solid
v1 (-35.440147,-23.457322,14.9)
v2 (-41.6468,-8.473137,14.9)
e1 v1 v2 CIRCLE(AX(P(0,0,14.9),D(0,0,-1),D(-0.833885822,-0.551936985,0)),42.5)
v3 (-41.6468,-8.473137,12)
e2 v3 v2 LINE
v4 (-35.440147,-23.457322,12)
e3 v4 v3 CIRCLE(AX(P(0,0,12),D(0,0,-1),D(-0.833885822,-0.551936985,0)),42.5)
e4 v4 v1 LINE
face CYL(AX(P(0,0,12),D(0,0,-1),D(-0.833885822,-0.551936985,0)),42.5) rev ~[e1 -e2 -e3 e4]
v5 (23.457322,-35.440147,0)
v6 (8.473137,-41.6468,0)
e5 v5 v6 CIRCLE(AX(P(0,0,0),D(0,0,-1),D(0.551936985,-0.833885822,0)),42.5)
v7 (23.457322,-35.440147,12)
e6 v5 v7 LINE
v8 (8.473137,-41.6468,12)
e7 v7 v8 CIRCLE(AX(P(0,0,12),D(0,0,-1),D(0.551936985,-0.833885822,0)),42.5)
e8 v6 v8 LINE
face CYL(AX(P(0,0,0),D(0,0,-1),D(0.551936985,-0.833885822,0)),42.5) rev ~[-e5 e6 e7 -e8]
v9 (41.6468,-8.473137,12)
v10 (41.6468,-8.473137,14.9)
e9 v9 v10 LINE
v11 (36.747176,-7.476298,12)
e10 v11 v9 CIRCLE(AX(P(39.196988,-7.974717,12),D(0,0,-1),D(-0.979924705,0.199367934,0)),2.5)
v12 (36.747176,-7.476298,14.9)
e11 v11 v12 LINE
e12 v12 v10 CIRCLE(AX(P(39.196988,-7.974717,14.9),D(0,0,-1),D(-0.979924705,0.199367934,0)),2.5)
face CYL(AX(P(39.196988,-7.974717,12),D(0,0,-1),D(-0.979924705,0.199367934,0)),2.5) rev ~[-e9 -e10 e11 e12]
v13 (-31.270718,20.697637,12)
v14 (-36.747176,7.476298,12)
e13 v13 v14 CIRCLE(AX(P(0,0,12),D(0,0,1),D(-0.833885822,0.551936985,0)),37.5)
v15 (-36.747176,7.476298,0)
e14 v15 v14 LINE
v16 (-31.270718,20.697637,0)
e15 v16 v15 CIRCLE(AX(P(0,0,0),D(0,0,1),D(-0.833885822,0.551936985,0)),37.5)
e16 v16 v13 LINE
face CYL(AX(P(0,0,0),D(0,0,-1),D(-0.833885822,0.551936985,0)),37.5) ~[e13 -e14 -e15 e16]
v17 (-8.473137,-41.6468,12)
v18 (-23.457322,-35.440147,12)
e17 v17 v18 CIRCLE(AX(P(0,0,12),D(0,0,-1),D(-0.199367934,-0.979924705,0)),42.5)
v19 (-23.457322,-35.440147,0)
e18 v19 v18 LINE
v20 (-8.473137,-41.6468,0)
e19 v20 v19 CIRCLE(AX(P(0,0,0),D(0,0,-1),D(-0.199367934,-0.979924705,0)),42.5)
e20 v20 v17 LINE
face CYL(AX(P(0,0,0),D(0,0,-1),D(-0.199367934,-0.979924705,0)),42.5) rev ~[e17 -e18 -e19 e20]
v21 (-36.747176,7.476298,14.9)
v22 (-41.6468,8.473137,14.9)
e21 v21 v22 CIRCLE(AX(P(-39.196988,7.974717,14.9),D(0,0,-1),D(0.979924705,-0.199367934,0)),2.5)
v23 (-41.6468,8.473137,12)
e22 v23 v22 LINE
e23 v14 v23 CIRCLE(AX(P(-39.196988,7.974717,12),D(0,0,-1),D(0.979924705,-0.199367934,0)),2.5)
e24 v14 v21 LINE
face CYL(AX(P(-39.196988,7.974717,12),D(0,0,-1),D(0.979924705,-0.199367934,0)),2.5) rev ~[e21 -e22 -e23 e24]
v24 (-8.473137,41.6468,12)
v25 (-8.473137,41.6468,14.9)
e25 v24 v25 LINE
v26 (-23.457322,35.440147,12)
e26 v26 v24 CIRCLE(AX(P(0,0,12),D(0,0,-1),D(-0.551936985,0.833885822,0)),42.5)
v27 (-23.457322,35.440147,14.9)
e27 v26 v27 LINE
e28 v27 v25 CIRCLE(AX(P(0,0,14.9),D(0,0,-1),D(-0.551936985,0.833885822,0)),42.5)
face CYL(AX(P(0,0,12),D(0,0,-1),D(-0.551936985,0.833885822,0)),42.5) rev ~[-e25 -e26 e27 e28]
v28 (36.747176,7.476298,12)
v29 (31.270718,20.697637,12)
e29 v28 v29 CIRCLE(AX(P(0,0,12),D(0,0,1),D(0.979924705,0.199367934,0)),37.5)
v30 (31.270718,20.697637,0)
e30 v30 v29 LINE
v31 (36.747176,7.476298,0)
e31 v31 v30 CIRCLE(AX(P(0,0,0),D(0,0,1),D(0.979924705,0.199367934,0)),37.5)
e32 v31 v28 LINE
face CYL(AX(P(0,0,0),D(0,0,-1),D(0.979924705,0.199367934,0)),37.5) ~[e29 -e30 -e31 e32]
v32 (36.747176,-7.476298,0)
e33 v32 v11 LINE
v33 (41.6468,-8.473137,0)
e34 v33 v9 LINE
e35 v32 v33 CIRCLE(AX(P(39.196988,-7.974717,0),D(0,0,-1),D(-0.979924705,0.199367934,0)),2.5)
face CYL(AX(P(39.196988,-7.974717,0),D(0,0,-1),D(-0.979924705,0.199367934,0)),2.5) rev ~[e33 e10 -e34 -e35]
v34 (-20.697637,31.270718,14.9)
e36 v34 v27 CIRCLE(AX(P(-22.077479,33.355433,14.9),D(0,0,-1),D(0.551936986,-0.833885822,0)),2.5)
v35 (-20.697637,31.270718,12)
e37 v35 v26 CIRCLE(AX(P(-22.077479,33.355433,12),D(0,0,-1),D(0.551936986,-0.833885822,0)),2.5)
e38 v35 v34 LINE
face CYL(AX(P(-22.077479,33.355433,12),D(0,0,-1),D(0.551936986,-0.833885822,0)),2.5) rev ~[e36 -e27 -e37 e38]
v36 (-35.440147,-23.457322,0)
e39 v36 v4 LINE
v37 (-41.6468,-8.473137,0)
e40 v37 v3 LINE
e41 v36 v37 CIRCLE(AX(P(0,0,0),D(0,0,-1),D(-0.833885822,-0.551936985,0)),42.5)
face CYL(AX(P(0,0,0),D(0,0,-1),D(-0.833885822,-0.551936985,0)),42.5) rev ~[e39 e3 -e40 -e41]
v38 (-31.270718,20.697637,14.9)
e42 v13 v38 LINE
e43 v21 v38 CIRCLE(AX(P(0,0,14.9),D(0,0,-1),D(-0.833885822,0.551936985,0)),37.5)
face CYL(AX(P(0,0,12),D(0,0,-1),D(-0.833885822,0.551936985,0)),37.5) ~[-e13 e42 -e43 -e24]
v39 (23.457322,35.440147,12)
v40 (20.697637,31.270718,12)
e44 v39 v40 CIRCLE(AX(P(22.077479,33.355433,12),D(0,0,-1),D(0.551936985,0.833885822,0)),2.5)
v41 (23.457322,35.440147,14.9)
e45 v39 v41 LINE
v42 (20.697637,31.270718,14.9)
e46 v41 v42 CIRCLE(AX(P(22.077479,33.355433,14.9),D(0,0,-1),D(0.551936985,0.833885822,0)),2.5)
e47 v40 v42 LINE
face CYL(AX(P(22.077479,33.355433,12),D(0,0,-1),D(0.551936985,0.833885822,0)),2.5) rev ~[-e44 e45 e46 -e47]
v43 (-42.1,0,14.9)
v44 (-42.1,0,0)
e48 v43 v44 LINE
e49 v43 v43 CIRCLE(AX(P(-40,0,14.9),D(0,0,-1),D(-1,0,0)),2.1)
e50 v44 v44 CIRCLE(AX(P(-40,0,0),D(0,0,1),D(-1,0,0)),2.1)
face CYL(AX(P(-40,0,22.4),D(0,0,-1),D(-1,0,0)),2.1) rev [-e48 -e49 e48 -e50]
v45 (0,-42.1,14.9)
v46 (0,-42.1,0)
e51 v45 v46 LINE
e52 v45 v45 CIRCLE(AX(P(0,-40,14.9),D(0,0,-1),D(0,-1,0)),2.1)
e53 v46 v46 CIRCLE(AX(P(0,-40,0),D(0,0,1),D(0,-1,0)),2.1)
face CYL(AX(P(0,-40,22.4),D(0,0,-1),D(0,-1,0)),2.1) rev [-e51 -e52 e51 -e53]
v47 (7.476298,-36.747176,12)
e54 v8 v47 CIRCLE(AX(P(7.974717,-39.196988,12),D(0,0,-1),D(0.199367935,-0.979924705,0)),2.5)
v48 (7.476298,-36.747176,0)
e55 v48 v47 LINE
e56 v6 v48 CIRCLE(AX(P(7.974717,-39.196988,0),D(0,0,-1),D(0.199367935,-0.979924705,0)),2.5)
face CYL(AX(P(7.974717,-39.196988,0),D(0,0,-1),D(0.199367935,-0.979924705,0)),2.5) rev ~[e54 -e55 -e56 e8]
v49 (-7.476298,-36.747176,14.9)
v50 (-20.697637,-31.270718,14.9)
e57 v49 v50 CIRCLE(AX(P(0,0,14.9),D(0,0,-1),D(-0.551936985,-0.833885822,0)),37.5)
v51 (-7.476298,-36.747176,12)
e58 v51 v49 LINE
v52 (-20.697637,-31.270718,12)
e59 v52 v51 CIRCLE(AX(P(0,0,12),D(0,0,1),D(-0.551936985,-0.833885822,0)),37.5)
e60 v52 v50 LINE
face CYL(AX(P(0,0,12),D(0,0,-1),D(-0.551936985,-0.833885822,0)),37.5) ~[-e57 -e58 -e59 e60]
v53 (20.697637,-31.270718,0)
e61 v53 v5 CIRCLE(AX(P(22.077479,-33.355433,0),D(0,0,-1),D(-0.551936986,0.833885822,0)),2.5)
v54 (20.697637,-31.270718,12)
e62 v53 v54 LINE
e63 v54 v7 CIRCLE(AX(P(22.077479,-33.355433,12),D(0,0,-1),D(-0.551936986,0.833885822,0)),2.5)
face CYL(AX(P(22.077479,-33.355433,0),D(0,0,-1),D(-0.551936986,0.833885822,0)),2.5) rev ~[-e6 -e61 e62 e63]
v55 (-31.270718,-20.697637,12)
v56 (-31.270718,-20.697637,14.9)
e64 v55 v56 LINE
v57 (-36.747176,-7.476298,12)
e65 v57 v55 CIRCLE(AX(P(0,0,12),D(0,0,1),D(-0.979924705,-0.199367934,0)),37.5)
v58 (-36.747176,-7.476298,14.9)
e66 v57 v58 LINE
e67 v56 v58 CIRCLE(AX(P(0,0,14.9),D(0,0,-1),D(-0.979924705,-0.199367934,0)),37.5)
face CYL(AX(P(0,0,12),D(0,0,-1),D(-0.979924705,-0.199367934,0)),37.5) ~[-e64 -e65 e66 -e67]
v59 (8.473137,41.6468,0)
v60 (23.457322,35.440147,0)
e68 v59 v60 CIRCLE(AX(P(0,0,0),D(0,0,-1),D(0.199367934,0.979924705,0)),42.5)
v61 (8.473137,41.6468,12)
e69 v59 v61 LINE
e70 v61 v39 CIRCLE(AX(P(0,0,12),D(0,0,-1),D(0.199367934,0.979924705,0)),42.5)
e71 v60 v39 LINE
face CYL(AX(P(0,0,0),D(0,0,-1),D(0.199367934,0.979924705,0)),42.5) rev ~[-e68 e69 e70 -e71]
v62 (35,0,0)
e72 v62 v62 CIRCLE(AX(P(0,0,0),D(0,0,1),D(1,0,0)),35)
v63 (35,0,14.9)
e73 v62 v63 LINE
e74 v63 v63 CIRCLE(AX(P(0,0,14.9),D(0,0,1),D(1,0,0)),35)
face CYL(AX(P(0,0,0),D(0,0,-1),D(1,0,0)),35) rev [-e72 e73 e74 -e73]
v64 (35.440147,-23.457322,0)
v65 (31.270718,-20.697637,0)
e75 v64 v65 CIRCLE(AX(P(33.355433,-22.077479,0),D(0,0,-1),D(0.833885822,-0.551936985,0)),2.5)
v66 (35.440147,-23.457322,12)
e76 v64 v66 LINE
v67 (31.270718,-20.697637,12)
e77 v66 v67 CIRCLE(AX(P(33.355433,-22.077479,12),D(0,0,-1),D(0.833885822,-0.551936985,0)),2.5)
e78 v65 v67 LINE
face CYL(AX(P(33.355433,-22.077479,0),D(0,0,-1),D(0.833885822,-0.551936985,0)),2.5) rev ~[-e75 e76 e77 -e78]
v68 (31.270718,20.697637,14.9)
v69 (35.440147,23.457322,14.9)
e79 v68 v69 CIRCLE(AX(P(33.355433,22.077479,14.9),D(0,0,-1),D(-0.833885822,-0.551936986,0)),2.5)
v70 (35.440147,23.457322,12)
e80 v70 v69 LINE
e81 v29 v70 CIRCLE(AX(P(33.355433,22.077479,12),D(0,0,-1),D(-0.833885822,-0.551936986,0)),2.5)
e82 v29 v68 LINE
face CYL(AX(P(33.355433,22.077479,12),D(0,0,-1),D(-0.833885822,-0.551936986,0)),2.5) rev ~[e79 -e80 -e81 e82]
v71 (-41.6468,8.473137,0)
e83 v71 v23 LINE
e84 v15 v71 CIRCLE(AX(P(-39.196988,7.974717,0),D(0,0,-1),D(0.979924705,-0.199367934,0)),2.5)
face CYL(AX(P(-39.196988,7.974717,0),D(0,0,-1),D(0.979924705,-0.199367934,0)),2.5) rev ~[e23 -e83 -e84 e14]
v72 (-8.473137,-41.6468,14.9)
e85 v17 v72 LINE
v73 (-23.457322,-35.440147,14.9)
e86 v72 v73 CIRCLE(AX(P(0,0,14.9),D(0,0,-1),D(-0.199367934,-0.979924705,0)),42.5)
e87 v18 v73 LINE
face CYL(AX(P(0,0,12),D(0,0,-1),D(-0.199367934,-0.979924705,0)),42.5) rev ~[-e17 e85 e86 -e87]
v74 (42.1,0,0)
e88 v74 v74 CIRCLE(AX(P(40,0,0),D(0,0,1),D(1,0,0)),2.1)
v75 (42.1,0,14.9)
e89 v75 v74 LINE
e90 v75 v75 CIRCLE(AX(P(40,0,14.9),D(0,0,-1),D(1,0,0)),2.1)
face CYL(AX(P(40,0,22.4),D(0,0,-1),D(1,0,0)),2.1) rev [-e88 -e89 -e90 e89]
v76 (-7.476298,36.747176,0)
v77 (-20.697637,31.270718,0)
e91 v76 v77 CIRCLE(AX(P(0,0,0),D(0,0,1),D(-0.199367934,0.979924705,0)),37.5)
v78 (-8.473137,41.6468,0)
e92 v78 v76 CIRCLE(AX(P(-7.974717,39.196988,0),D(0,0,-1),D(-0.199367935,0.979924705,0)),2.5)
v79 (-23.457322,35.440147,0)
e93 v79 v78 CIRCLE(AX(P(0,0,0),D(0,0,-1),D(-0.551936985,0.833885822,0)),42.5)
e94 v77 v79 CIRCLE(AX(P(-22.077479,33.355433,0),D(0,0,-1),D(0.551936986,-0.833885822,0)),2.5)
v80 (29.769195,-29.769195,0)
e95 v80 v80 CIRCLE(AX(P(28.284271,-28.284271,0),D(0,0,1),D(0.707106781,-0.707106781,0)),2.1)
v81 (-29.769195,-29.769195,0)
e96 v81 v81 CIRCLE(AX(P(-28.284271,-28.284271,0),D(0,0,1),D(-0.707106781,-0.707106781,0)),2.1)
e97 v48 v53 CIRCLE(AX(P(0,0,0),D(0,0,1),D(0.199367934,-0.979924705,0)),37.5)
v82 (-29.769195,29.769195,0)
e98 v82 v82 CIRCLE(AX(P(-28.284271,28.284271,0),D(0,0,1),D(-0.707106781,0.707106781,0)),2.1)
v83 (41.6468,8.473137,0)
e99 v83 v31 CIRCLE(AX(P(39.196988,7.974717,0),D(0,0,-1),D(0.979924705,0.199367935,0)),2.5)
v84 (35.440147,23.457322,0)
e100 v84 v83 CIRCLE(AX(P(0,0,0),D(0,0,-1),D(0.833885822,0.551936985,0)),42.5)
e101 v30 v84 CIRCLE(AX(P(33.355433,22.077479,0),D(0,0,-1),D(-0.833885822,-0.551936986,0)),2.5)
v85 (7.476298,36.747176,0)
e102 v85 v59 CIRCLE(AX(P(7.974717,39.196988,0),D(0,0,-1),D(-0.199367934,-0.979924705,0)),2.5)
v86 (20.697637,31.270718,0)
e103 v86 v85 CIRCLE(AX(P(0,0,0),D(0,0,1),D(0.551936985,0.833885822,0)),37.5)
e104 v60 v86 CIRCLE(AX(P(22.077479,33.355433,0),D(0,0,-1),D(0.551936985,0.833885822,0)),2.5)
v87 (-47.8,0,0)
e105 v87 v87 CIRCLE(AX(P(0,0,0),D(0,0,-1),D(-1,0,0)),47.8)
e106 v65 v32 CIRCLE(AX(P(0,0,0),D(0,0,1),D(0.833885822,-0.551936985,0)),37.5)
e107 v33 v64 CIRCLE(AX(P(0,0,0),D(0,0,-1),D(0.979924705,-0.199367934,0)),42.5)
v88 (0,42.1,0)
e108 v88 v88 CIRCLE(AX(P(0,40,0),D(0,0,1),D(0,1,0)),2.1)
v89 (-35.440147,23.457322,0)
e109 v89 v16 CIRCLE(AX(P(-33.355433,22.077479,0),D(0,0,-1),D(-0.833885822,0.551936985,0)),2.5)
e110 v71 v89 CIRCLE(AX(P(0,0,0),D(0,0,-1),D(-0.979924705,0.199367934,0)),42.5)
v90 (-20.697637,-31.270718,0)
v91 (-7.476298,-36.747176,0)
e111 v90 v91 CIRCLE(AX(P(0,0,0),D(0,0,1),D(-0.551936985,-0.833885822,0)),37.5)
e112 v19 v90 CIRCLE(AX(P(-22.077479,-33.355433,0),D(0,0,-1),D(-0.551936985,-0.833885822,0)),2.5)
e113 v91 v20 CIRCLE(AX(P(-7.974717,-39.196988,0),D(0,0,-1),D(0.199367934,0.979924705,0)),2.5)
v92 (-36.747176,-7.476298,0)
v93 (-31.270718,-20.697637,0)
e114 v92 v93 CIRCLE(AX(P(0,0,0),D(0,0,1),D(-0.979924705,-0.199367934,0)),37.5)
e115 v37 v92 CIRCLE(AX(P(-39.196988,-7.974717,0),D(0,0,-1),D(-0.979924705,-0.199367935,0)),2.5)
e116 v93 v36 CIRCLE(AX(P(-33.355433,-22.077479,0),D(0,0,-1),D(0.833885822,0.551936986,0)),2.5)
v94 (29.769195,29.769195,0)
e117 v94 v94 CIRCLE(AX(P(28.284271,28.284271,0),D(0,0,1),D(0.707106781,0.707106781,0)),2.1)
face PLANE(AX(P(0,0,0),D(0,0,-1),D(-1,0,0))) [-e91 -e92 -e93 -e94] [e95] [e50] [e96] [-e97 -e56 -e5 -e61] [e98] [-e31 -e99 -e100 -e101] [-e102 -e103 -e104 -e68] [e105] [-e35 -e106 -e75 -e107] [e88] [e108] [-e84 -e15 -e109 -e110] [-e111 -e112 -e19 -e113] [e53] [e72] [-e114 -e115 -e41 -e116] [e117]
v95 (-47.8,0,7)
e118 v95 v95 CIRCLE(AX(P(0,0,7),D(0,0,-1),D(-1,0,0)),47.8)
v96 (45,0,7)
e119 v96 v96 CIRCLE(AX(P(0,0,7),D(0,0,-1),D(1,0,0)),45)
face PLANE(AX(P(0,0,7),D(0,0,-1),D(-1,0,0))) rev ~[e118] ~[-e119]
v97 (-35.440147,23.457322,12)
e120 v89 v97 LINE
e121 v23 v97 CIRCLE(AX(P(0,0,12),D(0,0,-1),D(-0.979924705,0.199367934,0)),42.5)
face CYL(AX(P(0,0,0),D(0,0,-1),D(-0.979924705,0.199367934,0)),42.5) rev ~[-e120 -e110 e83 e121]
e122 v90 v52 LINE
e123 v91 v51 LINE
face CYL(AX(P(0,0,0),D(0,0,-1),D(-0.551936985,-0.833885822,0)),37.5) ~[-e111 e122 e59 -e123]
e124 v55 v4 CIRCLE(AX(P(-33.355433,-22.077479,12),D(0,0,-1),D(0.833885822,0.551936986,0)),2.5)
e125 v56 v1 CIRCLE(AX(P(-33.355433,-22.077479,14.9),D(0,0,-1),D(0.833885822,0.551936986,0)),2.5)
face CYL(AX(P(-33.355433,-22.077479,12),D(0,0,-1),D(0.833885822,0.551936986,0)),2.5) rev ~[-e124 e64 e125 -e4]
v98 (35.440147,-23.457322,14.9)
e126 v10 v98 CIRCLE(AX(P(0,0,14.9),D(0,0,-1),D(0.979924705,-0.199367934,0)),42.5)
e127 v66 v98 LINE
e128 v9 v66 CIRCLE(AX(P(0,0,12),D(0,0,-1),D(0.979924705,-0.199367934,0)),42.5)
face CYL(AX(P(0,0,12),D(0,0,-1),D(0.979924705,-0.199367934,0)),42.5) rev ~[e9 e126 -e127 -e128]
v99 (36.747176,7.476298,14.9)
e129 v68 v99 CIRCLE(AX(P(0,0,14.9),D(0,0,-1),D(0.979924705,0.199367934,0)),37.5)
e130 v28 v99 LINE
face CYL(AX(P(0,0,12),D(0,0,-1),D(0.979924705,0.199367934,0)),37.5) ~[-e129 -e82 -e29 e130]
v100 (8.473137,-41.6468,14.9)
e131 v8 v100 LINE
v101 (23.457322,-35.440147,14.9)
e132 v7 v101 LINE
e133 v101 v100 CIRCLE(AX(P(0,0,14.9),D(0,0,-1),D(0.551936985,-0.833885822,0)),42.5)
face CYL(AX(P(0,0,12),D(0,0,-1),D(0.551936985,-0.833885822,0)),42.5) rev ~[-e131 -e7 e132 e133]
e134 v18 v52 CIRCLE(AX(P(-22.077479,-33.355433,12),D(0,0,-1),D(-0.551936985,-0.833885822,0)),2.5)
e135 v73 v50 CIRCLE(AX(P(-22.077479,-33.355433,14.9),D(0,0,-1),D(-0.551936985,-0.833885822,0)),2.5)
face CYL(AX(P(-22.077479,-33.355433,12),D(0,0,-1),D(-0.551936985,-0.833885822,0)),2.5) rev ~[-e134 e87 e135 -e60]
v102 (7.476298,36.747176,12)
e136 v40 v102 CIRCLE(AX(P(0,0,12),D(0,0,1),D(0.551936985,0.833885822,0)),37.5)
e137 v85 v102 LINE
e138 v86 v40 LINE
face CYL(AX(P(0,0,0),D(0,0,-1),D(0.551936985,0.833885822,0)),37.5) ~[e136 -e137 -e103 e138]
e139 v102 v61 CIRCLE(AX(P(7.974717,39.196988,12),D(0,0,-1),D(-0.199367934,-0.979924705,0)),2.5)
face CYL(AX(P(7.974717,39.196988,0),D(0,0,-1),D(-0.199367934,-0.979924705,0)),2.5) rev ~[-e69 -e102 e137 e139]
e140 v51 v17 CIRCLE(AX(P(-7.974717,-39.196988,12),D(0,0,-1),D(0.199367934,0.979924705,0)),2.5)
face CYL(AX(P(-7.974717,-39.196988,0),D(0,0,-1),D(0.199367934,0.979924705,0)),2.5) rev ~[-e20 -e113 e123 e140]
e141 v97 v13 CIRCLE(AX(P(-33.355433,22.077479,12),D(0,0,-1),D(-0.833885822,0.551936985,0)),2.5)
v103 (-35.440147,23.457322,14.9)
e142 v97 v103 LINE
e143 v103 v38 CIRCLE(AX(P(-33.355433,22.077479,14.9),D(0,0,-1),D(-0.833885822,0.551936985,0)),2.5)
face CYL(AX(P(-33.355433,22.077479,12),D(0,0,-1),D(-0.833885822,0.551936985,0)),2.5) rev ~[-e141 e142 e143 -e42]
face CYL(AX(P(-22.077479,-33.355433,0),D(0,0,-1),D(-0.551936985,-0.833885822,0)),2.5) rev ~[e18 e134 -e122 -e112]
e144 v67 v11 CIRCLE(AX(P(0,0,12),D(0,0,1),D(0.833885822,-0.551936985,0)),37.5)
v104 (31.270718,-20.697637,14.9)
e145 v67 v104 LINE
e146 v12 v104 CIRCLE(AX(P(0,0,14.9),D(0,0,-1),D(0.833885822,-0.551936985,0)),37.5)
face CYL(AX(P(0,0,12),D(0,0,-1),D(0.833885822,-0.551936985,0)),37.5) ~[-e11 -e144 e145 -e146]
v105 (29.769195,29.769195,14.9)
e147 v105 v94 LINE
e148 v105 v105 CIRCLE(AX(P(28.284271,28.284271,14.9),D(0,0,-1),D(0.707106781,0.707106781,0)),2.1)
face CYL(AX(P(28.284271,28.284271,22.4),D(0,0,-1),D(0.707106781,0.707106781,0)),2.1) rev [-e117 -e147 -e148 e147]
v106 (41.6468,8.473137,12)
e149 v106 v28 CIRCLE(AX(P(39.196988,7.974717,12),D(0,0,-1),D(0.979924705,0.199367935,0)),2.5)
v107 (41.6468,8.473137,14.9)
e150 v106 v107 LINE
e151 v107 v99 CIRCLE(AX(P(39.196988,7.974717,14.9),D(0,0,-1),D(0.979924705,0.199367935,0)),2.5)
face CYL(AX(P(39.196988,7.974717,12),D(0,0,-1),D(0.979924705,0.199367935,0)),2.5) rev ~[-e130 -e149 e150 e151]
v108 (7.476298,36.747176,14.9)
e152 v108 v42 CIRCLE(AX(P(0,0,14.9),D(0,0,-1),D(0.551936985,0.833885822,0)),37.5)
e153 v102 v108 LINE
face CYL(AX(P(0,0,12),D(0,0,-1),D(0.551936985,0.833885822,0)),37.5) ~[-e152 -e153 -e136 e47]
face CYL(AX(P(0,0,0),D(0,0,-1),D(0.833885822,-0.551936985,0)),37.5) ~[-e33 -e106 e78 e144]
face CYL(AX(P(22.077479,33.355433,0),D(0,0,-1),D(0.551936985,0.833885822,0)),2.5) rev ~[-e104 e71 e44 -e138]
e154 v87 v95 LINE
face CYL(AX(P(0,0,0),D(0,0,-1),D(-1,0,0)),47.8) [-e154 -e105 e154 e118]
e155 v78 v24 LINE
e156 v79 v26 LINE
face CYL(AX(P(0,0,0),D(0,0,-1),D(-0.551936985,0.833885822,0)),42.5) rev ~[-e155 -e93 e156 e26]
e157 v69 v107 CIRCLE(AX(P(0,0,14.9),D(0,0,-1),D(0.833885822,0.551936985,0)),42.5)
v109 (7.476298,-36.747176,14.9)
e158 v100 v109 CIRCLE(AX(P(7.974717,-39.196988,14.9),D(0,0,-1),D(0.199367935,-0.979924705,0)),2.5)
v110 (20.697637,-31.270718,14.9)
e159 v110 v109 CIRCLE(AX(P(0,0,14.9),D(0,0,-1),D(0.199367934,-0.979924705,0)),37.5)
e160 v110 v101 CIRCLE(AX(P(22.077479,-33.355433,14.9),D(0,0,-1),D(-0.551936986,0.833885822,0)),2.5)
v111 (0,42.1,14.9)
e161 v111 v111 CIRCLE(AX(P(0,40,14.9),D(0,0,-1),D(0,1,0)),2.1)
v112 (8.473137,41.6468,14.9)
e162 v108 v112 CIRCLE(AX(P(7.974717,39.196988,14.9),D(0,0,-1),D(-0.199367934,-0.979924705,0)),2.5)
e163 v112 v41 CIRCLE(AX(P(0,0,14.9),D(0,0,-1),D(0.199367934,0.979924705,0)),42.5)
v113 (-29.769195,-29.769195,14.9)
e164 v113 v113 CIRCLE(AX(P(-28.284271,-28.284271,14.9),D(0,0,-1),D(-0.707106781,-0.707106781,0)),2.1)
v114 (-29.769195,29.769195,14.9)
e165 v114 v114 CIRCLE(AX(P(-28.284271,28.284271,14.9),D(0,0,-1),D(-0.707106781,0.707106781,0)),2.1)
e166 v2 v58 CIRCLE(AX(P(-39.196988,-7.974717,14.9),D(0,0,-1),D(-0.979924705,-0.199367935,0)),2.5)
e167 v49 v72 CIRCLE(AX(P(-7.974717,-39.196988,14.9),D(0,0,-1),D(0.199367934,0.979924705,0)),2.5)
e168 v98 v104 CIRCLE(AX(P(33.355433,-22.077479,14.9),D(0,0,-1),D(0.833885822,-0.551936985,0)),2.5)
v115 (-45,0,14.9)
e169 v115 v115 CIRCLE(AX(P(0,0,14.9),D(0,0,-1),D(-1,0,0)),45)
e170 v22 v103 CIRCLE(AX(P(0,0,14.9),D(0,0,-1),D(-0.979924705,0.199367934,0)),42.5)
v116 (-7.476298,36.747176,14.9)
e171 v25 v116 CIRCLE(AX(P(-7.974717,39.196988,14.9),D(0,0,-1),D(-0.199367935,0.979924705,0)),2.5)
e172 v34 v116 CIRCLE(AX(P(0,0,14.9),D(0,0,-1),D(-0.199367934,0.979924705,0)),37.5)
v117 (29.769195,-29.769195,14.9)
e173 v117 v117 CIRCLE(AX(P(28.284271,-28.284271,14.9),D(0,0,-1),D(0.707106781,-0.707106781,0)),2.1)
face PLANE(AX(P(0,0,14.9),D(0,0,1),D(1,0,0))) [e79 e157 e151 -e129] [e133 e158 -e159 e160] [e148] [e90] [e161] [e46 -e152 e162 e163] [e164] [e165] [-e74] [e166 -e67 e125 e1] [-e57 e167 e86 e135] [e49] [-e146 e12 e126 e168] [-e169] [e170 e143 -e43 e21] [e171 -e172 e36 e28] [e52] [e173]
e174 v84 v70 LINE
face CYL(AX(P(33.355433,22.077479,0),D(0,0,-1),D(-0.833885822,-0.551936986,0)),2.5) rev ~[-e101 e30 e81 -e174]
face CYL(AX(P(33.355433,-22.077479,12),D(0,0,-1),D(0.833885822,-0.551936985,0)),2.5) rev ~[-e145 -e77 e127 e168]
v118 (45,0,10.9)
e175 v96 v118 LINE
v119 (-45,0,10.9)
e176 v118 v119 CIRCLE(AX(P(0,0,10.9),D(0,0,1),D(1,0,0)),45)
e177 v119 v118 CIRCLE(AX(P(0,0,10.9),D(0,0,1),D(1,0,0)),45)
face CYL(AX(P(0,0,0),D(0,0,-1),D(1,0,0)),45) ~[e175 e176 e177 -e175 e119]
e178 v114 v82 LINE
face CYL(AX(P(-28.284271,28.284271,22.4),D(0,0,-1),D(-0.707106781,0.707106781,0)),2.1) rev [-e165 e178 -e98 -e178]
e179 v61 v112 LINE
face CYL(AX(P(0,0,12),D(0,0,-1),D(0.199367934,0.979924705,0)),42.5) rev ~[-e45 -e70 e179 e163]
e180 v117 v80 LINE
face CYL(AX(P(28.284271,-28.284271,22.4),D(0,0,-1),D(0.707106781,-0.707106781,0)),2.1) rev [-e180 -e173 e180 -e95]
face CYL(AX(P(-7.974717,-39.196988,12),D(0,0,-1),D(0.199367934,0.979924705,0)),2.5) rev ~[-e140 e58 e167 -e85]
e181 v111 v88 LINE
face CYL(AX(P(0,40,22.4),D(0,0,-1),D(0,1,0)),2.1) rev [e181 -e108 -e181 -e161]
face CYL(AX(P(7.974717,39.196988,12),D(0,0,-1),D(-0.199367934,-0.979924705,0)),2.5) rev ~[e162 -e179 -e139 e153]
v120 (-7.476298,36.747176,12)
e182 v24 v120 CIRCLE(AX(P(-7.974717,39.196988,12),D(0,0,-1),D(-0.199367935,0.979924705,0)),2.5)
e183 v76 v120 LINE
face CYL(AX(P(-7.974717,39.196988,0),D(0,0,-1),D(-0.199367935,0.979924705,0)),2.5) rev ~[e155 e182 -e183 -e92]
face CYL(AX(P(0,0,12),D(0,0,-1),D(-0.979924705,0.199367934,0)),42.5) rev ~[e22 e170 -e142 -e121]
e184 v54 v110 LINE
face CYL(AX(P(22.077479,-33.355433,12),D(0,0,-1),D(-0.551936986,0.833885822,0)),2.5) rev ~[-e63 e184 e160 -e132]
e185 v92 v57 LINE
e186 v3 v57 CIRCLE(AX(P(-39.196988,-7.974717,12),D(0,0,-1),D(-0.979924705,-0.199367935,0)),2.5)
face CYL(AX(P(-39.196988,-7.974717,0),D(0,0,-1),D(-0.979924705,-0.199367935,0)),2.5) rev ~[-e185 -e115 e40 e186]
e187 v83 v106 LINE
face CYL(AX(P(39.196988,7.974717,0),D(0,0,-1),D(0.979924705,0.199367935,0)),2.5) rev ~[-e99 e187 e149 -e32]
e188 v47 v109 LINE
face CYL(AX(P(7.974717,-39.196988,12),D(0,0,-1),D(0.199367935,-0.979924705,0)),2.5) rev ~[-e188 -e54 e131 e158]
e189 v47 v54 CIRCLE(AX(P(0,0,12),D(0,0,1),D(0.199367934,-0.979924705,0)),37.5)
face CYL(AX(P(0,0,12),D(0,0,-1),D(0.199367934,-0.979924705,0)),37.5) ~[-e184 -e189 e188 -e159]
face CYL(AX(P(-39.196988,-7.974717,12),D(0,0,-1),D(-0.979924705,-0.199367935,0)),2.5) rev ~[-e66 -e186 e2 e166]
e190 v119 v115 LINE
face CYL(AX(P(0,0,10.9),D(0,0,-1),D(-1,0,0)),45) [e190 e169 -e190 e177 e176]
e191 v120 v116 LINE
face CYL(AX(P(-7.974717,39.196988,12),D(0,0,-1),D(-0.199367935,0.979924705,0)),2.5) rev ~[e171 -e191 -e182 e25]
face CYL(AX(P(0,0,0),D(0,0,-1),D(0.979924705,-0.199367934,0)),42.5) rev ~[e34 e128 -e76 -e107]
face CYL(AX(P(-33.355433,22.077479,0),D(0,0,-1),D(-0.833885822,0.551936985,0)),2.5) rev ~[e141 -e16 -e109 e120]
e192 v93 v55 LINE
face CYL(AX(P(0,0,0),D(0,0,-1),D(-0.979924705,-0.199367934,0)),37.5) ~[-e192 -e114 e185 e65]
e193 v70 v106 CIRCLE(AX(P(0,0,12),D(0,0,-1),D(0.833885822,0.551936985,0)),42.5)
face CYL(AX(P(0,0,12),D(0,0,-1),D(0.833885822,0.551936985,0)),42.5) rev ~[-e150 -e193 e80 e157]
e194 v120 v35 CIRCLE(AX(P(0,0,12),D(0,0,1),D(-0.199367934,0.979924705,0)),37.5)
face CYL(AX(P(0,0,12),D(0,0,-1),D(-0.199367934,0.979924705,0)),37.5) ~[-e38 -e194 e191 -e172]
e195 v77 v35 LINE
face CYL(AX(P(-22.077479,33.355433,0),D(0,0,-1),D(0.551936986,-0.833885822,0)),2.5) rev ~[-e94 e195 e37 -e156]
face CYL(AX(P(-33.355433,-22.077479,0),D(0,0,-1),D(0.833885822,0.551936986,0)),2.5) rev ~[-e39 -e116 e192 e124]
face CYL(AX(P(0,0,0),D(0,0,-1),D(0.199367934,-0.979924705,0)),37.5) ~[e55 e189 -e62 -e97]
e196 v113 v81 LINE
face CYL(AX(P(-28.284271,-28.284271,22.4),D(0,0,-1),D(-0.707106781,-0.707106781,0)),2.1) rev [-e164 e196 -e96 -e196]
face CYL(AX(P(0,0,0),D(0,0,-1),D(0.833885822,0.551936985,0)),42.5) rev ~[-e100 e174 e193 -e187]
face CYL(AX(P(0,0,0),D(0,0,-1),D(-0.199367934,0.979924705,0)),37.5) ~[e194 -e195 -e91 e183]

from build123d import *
from build123d.topology import SkipClean

# Parameters (mm, degrees)
SKETCH_1_R               = 45
SKETCH_1_R_2             = 1
SKETCH_1_R_3             = 35
EXTRUDE_2_DEPTH          = 14.9
EXTRUDE_START            = -4
SKETCH_3_R               = 47.8
SKETCH_3_R_2             = 45
EXTRUDE_3_DEPTH          = 4
PATTERN_CIRCULAR_1_COUNT = 8
CUT_EXTRUDE_2_DEPTH      = 12
SKETCH_14_R              = 47.8
SKETCH_14_R_2            = 45
CUT_EXTRUDE_3_DEPTH      = 10
SKETCH_15_R              = 47.8
SKETCH_15_R_2            = 45
EXTRUDE_4_DEPTH          = 7
CUT_EXTRUDE_4_DEPTH      = 10


with BuildPart() as part:
    # 草图1 → 凸台-拉伸2 (new body)
    with BuildSketch(Plane.XY):
        Circle(SKETCH_1_R)
        with Locations((0, 40)):
            Circle(SKETCH_1_R_2, mode=Mode.SUBTRACT)
        with Locations((28.284271247, 28.284271247)):
            Circle(SKETCH_1_R_2, mode=Mode.SUBTRACT)
        with Locations((40, 0)):
            Circle(SKETCH_1_R_2, mode=Mode.SUBTRACT)
        with Locations((28.284271247, -28.284271247)):
            Circle(SKETCH_1_R_2, mode=Mode.SUBTRACT)
        with Locations((0, -40)):
            Circle(SKETCH_1_R_2, mode=Mode.SUBTRACT)
        with Locations((-28.284271247, -28.284271247)):
            Circle(SKETCH_1_R_2, mode=Mode.SUBTRACT)
        Circle(SKETCH_1_R_3, mode=Mode.SUBTRACT)
        with Locations((-40, 0)):
            Circle(SKETCH_1_R_2, mode=Mode.SUBTRACT)
        with Locations((-28.284271247, 28.284271247)):
            Circle(SKETCH_1_R_2, mode=Mode.SUBTRACT)
    extrude(amount=EXTRUDE_2_DEPTH)

    # 草图3 → 凸台-拉伸3 (add)
    with BuildSketch(Plane.XY.offset(14.9).offset(EXTRUDE_START)):
        Circle(SKETCH_3_R)
        Circle(SKETCH_3_R_2, mode=Mode.SUBTRACT)
    extrude(amount=EXTRUDE_3_DEPTH)

    # 草图12 → M5 螺纹孔1 (revolve, cut)
    with BuildSketch(Plane(origin=(0, 40, 0), x_dir=(0, 1, 0), z_dir=(1, 0, 0))):
        Polygon((0, 0), (0, 23.6618073), (2.1, 22.4), (2.1, 0), align=None)
    hole_wizard_m5_1 = revolve(axis=Axis((0, 40, -6.35), (0, 0, 1)), mode=Mode.SUBTRACT)

    # 阵列(圆周)1: M5 螺纹孔1 ×8 about axis
    pattern_circular_1_axis = Axis((0, 0, 0), (0, 0, 1))
    for i in range(1, PATTERN_CIRCULAR_1_COUNT):
        add(hole_wizard_m5_1.rotate(pattern_circular_1_axis, i * 360 / PATTERN_CIRCULAR_1_COUNT), mode=Mode.SUBTRACT)

    # 草图13 → 切除-拉伸2 (cut)
    with BuildSketch(Plane(origin=(0, 0, 0), x_dir=(-1, 0, 0), z_dir=(0, 0, -1))):
        with BuildLine():
            ThreePointArc((-8.473137213, 41.646799946), (-16.264045876, 39.264880132), (-23.457321876, 35.440147438))
            ThreePointArc((-23.457321876, 35.440147438), (-24.162193968, 31.975590419), (-20.697636949, 31.270718328))
            ThreePointArc((-20.697636949, 31.270718328), (-14.350628714, 34.645482469), (-7.476297541, 36.747176423))
            ThreePointArc((-7.476297541, 36.747176423), (-5.524905615, 39.695408021), (-8.473137213, 41.646799946))
        make_face()
        with BuildLine():
            ThreePointArc((23.457321876, 35.440147438), (16.264045876, 39.264880132), (8.473137213, 41.646799946))
            ThreePointArc((8.473137213, 41.646799946), (5.524905615, 39.695408021), (7.476297541, 36.747176423))
            ThreePointArc((7.476297541, 36.747176423), (14.350628714, 34.645482469), (20.697636949, 31.270718328))
            ThreePointArc((20.697636949, 31.270718328), (24.162193968, 31.975590419), (23.457321876, 35.440147438))
        make_face()
        with BuildLine():
            ThreePointArc((41.646799946, 8.473137213), (39.264880132, 16.264045876), (35.440147438, 23.457321876))
            ThreePointArc((35.440147438, 23.457321876), (31.975590419, 24.162193968), (31.270718328, 20.697636949))
            ThreePointArc((31.270718328, 20.697636949), (34.645482469, 14.350628714), (36.747176423, 7.476297541))
            ThreePointArc((36.747176423, 7.476297541), (39.695408021, 5.524905615), (41.646799946, 8.473137213))
        make_face()
        with BuildLine():
            ThreePointArc((35.440147438, -23.457321876), (39.264880132, -16.264045876), (41.646799946, -8.473137213))
            ThreePointArc((41.646799946, -8.473137213), (39.695408021, -5.524905615), (36.747176423, -7.476297541))
            ThreePointArc((36.747176423, -7.476297541), (34.645482469, -14.350628714), (31.270718328, -20.697636949))
            ThreePointArc((31.270718328, -20.697636949), (31.975590419, -24.162193968), (35.440147438, -23.457321876))
        make_face()
        with BuildLine():
            ThreePointArc((8.473137213, -41.646799946), (16.264045876, -39.264880132), (23.457321876, -35.440147438))
            ThreePointArc((23.457321876, -35.440147438), (24.162193968, -31.975590419), (20.697636949, -31.270718328))
            ThreePointArc((20.697636949, -31.270718328), (14.350628714, -34.645482469), (7.476297541, -36.747176423))
            ThreePointArc((7.476297541, -36.747176423), (5.524905615, -39.695408021), (8.473137213, -41.646799946))
        make_face()
        with BuildLine():
            ThreePointArc((-23.457321876, -35.440147438), (-16.264045876, -39.264880132), (-8.473137213, -41.646799946))
            ThreePointArc((-8.473137213, -41.646799946), (-5.524905615, -39.695408021), (-7.476297541, -36.747176423))
            ThreePointArc((-7.476297541, -36.747176423), (-14.350628714, -34.645482469), (-20.697636949, -31.270718328))
            ThreePointArc((-20.697636949, -31.270718328), (-24.162193968, -31.975590419), (-23.457321876, -35.440147438))
        make_face()
        with BuildLine():
            ThreePointArc((-41.646799946, -8.473137213), (-39.264880132, -16.264045876), (-35.440147438, -23.457321876))
            ThreePointArc((-35.440147438, -23.457321876), (-31.975590419, -24.162193968), (-31.270718328, -20.697636949))
            ThreePointArc((-31.270718328, -20.697636949), (-34.645482469, -14.350628714), (-36.747176423, -7.476297541))
            ThreePointArc((-36.747176423, -7.476297541), (-39.695408021, -5.524905615), (-41.646799946, -8.473137213))
        make_face()
        with BuildLine():
            ThreePointArc((-35.440147438, 23.457321876), (-39.264880132, 16.264045876), (-41.646799946, 8.473137213))
            ThreePointArc((-41.646799946, 8.473137213), (-39.695408021, 5.524905615), (-36.747176423, 7.476297541))
            ThreePointArc((-36.747176423, 7.476297541), (-34.645482469, 14.350628714), (-31.270718328, 20.697636949))
            ThreePointArc((-31.270718328, 20.697636949), (-31.975590419, 24.162193968), (-35.440147438, 23.457321876))
        make_face()
    extrude(amount=-CUT_EXTRUDE_2_DEPTH, mode=Mode.SUBTRACT)

    # 草图14 → 切除-拉伸3 (cut)
    with SkipClean():  # the faces are left unmerged after this step: merging them gives an invalid solid
        with BuildSketch(Plane(origin=(0, 0, 10.9), x_dir=(-1, 0, 0), z_dir=(0, 0, -1))):
            Circle(SKETCH_14_R)
            Circle(SKETCH_14_R_2, mode=Mode.SUBTRACT)
        extrude(amount=-CUT_EXTRUDE_3_DEPTH, mode=Mode.SUBTRACT)

    # 草图15 → 凸台-拉伸4 (add)
    with BuildSketch(Plane(origin=(0, 0, 0), x_dir=(-1, 0, 0), z_dir=(0, 0, -1))):
        Circle(SKETCH_15_R)
        Circle(SKETCH_15_R_2, mode=Mode.SUBTRACT)
    extrude(amount=-EXTRUDE_4_DEPTH)

    # 草图16 → 切除-拉伸4 (cut)
    with SkipClean():  # the faces are left unmerged after this step: merging them gives an invalid solid
        with BuildSketch(Plane(origin=(0, 0, 12), x_dir=(-1, 0, 0), z_dir=(0, 0, -1))):
            with BuildLine():
                ThreePointArc((-20.697636949, -31.270718328), (-24.162193968, -31.975590419), (-23.457321876, -35.440147438))
                ThreePointArc((-23.457321876, -35.440147438), (-16.264045876, -39.264880132), (-8.473137213, -41.646799946))
                ThreePointArc((-8.473137213, -41.646799946), (-5.524905615, -39.695408021), (-7.476297541, -36.747176423))
                ThreePointArc((-7.476297541, -36.747176423), (-14.350628714, -34.645482469), (-20.697636949, -31.270718328))
            make_face()
            with BuildLine():
                ThreePointArc((7.476297541, -36.747176423), (5.524905615, -39.695408021), (8.473137213, -41.646799946))
                ThreePointArc((8.473137213, -41.646799946), (16.264045876, -39.264880132), (23.457321876, -35.440147438))
                ThreePointArc((23.457321876, -35.440147438), (24.162193968, -31.975590419), (20.697636949, -31.270718328))
                ThreePointArc((20.697636949, -31.270718328), (14.350628714, -34.645482469), (7.476297541, -36.747176423))
            make_face()
            with BuildLine():
                ThreePointArc((31.270718328, -20.697636949), (31.975590419, -24.162193968), (35.440147438, -23.457321876))
                ThreePointArc((35.440147438, -23.457321876), (39.264880132, -16.264045876), (41.646799946, -8.473137213))
                ThreePointArc((41.646799946, -8.473137213), (39.695408021, -5.524905615), (36.747176423, -7.476297541))
                ThreePointArc((36.747176423, -7.476297541), (34.645482469, -14.350628714), (31.270718328, -20.697636949))
            make_face()
            with BuildLine():
                ThreePointArc((36.747176423, 7.476297541), (39.695408021, 5.524905615), (41.646799946, 8.473137213))
                ThreePointArc((41.646799946, 8.473137213), (39.264880132, 16.264045876), (35.440147438, 23.457321876))
                ThreePointArc((35.440147438, 23.457321876), (31.975590419, 24.162193968), (31.270718328, 20.697636949))
                ThreePointArc((31.270718328, 20.697636949), (34.645482469, 14.350628714), (36.747176423, 7.476297541))
            make_face()
            with BuildLine():
                ThreePointArc((20.697636949, 31.270718328), (24.162193968, 31.975590419), (23.457321876, 35.440147438))
                ThreePointArc((23.457321876, 35.440147438), (16.264045876, 39.264880132), (8.473137213, 41.646799946))
                ThreePointArc((8.473137213, 41.646799946), (5.524905615, 39.695408021), (7.476297541, 36.747176423))
                ThreePointArc((7.476297541, 36.747176423), (14.350628714, 34.645482469), (20.697636949, 31.270718328))
            make_face()
            with BuildLine():
                ThreePointArc((-7.476297541, 36.747176423), (-5.524905615, 39.695408021), (-8.473137213, 41.646799946))
                ThreePointArc((-8.473137213, 41.646799946), (-16.264045876, 39.264880132), (-23.457321876, 35.440147438))
                ThreePointArc((-23.457321876, 35.440147438), (-24.162193968, 31.975590419), (-20.697636949, 31.270718328))
                ThreePointArc((-20.697636949, 31.270718328), (-14.350628714, 34.645482469), (-7.476297541, 36.747176423))
            make_face()
            with BuildLine():
                ThreePointArc((-31.270718328, 20.697636949), (-31.975590419, 24.162193968), (-35.440147438, 23.457321876))
                ThreePointArc((-35.440147438, 23.457321876), (-39.264880132, 16.264045876), (-41.646799946, 8.473137213))
                ThreePointArc((-41.646799946, 8.473137213), (-39.695408021, 5.524905615), (-36.747176423, 7.476297541))
                ThreePointArc((-36.747176423, 7.476297541), (-34.645482469, 14.350628714), (-31.270718328, 20.697636949))
            make_face()
            with BuildLine():
                ThreePointArc((-36.747176423, -7.476297541), (-39.695408021, -5.524905615), (-41.646799946, -8.473137213))
                ThreePointArc((-41.646799946, -8.473137213), (-39.264880132, -16.264045876), (-35.440147438, -23.457321876))
                ThreePointArc((-35.440147438, -23.457321876), (-31.975590419, -24.162193968), (-31.270718328, -20.697636949))
                ThreePointArc((-31.270718328, -20.697636949), (-34.645482469, -14.350628714), (-36.747176423, -7.476297541))
            make_face()
        extrude(amount=-CUT_EXTRUDE_4_DEPTH, mode=Mode.SUBTRACT)


solid = part.part
